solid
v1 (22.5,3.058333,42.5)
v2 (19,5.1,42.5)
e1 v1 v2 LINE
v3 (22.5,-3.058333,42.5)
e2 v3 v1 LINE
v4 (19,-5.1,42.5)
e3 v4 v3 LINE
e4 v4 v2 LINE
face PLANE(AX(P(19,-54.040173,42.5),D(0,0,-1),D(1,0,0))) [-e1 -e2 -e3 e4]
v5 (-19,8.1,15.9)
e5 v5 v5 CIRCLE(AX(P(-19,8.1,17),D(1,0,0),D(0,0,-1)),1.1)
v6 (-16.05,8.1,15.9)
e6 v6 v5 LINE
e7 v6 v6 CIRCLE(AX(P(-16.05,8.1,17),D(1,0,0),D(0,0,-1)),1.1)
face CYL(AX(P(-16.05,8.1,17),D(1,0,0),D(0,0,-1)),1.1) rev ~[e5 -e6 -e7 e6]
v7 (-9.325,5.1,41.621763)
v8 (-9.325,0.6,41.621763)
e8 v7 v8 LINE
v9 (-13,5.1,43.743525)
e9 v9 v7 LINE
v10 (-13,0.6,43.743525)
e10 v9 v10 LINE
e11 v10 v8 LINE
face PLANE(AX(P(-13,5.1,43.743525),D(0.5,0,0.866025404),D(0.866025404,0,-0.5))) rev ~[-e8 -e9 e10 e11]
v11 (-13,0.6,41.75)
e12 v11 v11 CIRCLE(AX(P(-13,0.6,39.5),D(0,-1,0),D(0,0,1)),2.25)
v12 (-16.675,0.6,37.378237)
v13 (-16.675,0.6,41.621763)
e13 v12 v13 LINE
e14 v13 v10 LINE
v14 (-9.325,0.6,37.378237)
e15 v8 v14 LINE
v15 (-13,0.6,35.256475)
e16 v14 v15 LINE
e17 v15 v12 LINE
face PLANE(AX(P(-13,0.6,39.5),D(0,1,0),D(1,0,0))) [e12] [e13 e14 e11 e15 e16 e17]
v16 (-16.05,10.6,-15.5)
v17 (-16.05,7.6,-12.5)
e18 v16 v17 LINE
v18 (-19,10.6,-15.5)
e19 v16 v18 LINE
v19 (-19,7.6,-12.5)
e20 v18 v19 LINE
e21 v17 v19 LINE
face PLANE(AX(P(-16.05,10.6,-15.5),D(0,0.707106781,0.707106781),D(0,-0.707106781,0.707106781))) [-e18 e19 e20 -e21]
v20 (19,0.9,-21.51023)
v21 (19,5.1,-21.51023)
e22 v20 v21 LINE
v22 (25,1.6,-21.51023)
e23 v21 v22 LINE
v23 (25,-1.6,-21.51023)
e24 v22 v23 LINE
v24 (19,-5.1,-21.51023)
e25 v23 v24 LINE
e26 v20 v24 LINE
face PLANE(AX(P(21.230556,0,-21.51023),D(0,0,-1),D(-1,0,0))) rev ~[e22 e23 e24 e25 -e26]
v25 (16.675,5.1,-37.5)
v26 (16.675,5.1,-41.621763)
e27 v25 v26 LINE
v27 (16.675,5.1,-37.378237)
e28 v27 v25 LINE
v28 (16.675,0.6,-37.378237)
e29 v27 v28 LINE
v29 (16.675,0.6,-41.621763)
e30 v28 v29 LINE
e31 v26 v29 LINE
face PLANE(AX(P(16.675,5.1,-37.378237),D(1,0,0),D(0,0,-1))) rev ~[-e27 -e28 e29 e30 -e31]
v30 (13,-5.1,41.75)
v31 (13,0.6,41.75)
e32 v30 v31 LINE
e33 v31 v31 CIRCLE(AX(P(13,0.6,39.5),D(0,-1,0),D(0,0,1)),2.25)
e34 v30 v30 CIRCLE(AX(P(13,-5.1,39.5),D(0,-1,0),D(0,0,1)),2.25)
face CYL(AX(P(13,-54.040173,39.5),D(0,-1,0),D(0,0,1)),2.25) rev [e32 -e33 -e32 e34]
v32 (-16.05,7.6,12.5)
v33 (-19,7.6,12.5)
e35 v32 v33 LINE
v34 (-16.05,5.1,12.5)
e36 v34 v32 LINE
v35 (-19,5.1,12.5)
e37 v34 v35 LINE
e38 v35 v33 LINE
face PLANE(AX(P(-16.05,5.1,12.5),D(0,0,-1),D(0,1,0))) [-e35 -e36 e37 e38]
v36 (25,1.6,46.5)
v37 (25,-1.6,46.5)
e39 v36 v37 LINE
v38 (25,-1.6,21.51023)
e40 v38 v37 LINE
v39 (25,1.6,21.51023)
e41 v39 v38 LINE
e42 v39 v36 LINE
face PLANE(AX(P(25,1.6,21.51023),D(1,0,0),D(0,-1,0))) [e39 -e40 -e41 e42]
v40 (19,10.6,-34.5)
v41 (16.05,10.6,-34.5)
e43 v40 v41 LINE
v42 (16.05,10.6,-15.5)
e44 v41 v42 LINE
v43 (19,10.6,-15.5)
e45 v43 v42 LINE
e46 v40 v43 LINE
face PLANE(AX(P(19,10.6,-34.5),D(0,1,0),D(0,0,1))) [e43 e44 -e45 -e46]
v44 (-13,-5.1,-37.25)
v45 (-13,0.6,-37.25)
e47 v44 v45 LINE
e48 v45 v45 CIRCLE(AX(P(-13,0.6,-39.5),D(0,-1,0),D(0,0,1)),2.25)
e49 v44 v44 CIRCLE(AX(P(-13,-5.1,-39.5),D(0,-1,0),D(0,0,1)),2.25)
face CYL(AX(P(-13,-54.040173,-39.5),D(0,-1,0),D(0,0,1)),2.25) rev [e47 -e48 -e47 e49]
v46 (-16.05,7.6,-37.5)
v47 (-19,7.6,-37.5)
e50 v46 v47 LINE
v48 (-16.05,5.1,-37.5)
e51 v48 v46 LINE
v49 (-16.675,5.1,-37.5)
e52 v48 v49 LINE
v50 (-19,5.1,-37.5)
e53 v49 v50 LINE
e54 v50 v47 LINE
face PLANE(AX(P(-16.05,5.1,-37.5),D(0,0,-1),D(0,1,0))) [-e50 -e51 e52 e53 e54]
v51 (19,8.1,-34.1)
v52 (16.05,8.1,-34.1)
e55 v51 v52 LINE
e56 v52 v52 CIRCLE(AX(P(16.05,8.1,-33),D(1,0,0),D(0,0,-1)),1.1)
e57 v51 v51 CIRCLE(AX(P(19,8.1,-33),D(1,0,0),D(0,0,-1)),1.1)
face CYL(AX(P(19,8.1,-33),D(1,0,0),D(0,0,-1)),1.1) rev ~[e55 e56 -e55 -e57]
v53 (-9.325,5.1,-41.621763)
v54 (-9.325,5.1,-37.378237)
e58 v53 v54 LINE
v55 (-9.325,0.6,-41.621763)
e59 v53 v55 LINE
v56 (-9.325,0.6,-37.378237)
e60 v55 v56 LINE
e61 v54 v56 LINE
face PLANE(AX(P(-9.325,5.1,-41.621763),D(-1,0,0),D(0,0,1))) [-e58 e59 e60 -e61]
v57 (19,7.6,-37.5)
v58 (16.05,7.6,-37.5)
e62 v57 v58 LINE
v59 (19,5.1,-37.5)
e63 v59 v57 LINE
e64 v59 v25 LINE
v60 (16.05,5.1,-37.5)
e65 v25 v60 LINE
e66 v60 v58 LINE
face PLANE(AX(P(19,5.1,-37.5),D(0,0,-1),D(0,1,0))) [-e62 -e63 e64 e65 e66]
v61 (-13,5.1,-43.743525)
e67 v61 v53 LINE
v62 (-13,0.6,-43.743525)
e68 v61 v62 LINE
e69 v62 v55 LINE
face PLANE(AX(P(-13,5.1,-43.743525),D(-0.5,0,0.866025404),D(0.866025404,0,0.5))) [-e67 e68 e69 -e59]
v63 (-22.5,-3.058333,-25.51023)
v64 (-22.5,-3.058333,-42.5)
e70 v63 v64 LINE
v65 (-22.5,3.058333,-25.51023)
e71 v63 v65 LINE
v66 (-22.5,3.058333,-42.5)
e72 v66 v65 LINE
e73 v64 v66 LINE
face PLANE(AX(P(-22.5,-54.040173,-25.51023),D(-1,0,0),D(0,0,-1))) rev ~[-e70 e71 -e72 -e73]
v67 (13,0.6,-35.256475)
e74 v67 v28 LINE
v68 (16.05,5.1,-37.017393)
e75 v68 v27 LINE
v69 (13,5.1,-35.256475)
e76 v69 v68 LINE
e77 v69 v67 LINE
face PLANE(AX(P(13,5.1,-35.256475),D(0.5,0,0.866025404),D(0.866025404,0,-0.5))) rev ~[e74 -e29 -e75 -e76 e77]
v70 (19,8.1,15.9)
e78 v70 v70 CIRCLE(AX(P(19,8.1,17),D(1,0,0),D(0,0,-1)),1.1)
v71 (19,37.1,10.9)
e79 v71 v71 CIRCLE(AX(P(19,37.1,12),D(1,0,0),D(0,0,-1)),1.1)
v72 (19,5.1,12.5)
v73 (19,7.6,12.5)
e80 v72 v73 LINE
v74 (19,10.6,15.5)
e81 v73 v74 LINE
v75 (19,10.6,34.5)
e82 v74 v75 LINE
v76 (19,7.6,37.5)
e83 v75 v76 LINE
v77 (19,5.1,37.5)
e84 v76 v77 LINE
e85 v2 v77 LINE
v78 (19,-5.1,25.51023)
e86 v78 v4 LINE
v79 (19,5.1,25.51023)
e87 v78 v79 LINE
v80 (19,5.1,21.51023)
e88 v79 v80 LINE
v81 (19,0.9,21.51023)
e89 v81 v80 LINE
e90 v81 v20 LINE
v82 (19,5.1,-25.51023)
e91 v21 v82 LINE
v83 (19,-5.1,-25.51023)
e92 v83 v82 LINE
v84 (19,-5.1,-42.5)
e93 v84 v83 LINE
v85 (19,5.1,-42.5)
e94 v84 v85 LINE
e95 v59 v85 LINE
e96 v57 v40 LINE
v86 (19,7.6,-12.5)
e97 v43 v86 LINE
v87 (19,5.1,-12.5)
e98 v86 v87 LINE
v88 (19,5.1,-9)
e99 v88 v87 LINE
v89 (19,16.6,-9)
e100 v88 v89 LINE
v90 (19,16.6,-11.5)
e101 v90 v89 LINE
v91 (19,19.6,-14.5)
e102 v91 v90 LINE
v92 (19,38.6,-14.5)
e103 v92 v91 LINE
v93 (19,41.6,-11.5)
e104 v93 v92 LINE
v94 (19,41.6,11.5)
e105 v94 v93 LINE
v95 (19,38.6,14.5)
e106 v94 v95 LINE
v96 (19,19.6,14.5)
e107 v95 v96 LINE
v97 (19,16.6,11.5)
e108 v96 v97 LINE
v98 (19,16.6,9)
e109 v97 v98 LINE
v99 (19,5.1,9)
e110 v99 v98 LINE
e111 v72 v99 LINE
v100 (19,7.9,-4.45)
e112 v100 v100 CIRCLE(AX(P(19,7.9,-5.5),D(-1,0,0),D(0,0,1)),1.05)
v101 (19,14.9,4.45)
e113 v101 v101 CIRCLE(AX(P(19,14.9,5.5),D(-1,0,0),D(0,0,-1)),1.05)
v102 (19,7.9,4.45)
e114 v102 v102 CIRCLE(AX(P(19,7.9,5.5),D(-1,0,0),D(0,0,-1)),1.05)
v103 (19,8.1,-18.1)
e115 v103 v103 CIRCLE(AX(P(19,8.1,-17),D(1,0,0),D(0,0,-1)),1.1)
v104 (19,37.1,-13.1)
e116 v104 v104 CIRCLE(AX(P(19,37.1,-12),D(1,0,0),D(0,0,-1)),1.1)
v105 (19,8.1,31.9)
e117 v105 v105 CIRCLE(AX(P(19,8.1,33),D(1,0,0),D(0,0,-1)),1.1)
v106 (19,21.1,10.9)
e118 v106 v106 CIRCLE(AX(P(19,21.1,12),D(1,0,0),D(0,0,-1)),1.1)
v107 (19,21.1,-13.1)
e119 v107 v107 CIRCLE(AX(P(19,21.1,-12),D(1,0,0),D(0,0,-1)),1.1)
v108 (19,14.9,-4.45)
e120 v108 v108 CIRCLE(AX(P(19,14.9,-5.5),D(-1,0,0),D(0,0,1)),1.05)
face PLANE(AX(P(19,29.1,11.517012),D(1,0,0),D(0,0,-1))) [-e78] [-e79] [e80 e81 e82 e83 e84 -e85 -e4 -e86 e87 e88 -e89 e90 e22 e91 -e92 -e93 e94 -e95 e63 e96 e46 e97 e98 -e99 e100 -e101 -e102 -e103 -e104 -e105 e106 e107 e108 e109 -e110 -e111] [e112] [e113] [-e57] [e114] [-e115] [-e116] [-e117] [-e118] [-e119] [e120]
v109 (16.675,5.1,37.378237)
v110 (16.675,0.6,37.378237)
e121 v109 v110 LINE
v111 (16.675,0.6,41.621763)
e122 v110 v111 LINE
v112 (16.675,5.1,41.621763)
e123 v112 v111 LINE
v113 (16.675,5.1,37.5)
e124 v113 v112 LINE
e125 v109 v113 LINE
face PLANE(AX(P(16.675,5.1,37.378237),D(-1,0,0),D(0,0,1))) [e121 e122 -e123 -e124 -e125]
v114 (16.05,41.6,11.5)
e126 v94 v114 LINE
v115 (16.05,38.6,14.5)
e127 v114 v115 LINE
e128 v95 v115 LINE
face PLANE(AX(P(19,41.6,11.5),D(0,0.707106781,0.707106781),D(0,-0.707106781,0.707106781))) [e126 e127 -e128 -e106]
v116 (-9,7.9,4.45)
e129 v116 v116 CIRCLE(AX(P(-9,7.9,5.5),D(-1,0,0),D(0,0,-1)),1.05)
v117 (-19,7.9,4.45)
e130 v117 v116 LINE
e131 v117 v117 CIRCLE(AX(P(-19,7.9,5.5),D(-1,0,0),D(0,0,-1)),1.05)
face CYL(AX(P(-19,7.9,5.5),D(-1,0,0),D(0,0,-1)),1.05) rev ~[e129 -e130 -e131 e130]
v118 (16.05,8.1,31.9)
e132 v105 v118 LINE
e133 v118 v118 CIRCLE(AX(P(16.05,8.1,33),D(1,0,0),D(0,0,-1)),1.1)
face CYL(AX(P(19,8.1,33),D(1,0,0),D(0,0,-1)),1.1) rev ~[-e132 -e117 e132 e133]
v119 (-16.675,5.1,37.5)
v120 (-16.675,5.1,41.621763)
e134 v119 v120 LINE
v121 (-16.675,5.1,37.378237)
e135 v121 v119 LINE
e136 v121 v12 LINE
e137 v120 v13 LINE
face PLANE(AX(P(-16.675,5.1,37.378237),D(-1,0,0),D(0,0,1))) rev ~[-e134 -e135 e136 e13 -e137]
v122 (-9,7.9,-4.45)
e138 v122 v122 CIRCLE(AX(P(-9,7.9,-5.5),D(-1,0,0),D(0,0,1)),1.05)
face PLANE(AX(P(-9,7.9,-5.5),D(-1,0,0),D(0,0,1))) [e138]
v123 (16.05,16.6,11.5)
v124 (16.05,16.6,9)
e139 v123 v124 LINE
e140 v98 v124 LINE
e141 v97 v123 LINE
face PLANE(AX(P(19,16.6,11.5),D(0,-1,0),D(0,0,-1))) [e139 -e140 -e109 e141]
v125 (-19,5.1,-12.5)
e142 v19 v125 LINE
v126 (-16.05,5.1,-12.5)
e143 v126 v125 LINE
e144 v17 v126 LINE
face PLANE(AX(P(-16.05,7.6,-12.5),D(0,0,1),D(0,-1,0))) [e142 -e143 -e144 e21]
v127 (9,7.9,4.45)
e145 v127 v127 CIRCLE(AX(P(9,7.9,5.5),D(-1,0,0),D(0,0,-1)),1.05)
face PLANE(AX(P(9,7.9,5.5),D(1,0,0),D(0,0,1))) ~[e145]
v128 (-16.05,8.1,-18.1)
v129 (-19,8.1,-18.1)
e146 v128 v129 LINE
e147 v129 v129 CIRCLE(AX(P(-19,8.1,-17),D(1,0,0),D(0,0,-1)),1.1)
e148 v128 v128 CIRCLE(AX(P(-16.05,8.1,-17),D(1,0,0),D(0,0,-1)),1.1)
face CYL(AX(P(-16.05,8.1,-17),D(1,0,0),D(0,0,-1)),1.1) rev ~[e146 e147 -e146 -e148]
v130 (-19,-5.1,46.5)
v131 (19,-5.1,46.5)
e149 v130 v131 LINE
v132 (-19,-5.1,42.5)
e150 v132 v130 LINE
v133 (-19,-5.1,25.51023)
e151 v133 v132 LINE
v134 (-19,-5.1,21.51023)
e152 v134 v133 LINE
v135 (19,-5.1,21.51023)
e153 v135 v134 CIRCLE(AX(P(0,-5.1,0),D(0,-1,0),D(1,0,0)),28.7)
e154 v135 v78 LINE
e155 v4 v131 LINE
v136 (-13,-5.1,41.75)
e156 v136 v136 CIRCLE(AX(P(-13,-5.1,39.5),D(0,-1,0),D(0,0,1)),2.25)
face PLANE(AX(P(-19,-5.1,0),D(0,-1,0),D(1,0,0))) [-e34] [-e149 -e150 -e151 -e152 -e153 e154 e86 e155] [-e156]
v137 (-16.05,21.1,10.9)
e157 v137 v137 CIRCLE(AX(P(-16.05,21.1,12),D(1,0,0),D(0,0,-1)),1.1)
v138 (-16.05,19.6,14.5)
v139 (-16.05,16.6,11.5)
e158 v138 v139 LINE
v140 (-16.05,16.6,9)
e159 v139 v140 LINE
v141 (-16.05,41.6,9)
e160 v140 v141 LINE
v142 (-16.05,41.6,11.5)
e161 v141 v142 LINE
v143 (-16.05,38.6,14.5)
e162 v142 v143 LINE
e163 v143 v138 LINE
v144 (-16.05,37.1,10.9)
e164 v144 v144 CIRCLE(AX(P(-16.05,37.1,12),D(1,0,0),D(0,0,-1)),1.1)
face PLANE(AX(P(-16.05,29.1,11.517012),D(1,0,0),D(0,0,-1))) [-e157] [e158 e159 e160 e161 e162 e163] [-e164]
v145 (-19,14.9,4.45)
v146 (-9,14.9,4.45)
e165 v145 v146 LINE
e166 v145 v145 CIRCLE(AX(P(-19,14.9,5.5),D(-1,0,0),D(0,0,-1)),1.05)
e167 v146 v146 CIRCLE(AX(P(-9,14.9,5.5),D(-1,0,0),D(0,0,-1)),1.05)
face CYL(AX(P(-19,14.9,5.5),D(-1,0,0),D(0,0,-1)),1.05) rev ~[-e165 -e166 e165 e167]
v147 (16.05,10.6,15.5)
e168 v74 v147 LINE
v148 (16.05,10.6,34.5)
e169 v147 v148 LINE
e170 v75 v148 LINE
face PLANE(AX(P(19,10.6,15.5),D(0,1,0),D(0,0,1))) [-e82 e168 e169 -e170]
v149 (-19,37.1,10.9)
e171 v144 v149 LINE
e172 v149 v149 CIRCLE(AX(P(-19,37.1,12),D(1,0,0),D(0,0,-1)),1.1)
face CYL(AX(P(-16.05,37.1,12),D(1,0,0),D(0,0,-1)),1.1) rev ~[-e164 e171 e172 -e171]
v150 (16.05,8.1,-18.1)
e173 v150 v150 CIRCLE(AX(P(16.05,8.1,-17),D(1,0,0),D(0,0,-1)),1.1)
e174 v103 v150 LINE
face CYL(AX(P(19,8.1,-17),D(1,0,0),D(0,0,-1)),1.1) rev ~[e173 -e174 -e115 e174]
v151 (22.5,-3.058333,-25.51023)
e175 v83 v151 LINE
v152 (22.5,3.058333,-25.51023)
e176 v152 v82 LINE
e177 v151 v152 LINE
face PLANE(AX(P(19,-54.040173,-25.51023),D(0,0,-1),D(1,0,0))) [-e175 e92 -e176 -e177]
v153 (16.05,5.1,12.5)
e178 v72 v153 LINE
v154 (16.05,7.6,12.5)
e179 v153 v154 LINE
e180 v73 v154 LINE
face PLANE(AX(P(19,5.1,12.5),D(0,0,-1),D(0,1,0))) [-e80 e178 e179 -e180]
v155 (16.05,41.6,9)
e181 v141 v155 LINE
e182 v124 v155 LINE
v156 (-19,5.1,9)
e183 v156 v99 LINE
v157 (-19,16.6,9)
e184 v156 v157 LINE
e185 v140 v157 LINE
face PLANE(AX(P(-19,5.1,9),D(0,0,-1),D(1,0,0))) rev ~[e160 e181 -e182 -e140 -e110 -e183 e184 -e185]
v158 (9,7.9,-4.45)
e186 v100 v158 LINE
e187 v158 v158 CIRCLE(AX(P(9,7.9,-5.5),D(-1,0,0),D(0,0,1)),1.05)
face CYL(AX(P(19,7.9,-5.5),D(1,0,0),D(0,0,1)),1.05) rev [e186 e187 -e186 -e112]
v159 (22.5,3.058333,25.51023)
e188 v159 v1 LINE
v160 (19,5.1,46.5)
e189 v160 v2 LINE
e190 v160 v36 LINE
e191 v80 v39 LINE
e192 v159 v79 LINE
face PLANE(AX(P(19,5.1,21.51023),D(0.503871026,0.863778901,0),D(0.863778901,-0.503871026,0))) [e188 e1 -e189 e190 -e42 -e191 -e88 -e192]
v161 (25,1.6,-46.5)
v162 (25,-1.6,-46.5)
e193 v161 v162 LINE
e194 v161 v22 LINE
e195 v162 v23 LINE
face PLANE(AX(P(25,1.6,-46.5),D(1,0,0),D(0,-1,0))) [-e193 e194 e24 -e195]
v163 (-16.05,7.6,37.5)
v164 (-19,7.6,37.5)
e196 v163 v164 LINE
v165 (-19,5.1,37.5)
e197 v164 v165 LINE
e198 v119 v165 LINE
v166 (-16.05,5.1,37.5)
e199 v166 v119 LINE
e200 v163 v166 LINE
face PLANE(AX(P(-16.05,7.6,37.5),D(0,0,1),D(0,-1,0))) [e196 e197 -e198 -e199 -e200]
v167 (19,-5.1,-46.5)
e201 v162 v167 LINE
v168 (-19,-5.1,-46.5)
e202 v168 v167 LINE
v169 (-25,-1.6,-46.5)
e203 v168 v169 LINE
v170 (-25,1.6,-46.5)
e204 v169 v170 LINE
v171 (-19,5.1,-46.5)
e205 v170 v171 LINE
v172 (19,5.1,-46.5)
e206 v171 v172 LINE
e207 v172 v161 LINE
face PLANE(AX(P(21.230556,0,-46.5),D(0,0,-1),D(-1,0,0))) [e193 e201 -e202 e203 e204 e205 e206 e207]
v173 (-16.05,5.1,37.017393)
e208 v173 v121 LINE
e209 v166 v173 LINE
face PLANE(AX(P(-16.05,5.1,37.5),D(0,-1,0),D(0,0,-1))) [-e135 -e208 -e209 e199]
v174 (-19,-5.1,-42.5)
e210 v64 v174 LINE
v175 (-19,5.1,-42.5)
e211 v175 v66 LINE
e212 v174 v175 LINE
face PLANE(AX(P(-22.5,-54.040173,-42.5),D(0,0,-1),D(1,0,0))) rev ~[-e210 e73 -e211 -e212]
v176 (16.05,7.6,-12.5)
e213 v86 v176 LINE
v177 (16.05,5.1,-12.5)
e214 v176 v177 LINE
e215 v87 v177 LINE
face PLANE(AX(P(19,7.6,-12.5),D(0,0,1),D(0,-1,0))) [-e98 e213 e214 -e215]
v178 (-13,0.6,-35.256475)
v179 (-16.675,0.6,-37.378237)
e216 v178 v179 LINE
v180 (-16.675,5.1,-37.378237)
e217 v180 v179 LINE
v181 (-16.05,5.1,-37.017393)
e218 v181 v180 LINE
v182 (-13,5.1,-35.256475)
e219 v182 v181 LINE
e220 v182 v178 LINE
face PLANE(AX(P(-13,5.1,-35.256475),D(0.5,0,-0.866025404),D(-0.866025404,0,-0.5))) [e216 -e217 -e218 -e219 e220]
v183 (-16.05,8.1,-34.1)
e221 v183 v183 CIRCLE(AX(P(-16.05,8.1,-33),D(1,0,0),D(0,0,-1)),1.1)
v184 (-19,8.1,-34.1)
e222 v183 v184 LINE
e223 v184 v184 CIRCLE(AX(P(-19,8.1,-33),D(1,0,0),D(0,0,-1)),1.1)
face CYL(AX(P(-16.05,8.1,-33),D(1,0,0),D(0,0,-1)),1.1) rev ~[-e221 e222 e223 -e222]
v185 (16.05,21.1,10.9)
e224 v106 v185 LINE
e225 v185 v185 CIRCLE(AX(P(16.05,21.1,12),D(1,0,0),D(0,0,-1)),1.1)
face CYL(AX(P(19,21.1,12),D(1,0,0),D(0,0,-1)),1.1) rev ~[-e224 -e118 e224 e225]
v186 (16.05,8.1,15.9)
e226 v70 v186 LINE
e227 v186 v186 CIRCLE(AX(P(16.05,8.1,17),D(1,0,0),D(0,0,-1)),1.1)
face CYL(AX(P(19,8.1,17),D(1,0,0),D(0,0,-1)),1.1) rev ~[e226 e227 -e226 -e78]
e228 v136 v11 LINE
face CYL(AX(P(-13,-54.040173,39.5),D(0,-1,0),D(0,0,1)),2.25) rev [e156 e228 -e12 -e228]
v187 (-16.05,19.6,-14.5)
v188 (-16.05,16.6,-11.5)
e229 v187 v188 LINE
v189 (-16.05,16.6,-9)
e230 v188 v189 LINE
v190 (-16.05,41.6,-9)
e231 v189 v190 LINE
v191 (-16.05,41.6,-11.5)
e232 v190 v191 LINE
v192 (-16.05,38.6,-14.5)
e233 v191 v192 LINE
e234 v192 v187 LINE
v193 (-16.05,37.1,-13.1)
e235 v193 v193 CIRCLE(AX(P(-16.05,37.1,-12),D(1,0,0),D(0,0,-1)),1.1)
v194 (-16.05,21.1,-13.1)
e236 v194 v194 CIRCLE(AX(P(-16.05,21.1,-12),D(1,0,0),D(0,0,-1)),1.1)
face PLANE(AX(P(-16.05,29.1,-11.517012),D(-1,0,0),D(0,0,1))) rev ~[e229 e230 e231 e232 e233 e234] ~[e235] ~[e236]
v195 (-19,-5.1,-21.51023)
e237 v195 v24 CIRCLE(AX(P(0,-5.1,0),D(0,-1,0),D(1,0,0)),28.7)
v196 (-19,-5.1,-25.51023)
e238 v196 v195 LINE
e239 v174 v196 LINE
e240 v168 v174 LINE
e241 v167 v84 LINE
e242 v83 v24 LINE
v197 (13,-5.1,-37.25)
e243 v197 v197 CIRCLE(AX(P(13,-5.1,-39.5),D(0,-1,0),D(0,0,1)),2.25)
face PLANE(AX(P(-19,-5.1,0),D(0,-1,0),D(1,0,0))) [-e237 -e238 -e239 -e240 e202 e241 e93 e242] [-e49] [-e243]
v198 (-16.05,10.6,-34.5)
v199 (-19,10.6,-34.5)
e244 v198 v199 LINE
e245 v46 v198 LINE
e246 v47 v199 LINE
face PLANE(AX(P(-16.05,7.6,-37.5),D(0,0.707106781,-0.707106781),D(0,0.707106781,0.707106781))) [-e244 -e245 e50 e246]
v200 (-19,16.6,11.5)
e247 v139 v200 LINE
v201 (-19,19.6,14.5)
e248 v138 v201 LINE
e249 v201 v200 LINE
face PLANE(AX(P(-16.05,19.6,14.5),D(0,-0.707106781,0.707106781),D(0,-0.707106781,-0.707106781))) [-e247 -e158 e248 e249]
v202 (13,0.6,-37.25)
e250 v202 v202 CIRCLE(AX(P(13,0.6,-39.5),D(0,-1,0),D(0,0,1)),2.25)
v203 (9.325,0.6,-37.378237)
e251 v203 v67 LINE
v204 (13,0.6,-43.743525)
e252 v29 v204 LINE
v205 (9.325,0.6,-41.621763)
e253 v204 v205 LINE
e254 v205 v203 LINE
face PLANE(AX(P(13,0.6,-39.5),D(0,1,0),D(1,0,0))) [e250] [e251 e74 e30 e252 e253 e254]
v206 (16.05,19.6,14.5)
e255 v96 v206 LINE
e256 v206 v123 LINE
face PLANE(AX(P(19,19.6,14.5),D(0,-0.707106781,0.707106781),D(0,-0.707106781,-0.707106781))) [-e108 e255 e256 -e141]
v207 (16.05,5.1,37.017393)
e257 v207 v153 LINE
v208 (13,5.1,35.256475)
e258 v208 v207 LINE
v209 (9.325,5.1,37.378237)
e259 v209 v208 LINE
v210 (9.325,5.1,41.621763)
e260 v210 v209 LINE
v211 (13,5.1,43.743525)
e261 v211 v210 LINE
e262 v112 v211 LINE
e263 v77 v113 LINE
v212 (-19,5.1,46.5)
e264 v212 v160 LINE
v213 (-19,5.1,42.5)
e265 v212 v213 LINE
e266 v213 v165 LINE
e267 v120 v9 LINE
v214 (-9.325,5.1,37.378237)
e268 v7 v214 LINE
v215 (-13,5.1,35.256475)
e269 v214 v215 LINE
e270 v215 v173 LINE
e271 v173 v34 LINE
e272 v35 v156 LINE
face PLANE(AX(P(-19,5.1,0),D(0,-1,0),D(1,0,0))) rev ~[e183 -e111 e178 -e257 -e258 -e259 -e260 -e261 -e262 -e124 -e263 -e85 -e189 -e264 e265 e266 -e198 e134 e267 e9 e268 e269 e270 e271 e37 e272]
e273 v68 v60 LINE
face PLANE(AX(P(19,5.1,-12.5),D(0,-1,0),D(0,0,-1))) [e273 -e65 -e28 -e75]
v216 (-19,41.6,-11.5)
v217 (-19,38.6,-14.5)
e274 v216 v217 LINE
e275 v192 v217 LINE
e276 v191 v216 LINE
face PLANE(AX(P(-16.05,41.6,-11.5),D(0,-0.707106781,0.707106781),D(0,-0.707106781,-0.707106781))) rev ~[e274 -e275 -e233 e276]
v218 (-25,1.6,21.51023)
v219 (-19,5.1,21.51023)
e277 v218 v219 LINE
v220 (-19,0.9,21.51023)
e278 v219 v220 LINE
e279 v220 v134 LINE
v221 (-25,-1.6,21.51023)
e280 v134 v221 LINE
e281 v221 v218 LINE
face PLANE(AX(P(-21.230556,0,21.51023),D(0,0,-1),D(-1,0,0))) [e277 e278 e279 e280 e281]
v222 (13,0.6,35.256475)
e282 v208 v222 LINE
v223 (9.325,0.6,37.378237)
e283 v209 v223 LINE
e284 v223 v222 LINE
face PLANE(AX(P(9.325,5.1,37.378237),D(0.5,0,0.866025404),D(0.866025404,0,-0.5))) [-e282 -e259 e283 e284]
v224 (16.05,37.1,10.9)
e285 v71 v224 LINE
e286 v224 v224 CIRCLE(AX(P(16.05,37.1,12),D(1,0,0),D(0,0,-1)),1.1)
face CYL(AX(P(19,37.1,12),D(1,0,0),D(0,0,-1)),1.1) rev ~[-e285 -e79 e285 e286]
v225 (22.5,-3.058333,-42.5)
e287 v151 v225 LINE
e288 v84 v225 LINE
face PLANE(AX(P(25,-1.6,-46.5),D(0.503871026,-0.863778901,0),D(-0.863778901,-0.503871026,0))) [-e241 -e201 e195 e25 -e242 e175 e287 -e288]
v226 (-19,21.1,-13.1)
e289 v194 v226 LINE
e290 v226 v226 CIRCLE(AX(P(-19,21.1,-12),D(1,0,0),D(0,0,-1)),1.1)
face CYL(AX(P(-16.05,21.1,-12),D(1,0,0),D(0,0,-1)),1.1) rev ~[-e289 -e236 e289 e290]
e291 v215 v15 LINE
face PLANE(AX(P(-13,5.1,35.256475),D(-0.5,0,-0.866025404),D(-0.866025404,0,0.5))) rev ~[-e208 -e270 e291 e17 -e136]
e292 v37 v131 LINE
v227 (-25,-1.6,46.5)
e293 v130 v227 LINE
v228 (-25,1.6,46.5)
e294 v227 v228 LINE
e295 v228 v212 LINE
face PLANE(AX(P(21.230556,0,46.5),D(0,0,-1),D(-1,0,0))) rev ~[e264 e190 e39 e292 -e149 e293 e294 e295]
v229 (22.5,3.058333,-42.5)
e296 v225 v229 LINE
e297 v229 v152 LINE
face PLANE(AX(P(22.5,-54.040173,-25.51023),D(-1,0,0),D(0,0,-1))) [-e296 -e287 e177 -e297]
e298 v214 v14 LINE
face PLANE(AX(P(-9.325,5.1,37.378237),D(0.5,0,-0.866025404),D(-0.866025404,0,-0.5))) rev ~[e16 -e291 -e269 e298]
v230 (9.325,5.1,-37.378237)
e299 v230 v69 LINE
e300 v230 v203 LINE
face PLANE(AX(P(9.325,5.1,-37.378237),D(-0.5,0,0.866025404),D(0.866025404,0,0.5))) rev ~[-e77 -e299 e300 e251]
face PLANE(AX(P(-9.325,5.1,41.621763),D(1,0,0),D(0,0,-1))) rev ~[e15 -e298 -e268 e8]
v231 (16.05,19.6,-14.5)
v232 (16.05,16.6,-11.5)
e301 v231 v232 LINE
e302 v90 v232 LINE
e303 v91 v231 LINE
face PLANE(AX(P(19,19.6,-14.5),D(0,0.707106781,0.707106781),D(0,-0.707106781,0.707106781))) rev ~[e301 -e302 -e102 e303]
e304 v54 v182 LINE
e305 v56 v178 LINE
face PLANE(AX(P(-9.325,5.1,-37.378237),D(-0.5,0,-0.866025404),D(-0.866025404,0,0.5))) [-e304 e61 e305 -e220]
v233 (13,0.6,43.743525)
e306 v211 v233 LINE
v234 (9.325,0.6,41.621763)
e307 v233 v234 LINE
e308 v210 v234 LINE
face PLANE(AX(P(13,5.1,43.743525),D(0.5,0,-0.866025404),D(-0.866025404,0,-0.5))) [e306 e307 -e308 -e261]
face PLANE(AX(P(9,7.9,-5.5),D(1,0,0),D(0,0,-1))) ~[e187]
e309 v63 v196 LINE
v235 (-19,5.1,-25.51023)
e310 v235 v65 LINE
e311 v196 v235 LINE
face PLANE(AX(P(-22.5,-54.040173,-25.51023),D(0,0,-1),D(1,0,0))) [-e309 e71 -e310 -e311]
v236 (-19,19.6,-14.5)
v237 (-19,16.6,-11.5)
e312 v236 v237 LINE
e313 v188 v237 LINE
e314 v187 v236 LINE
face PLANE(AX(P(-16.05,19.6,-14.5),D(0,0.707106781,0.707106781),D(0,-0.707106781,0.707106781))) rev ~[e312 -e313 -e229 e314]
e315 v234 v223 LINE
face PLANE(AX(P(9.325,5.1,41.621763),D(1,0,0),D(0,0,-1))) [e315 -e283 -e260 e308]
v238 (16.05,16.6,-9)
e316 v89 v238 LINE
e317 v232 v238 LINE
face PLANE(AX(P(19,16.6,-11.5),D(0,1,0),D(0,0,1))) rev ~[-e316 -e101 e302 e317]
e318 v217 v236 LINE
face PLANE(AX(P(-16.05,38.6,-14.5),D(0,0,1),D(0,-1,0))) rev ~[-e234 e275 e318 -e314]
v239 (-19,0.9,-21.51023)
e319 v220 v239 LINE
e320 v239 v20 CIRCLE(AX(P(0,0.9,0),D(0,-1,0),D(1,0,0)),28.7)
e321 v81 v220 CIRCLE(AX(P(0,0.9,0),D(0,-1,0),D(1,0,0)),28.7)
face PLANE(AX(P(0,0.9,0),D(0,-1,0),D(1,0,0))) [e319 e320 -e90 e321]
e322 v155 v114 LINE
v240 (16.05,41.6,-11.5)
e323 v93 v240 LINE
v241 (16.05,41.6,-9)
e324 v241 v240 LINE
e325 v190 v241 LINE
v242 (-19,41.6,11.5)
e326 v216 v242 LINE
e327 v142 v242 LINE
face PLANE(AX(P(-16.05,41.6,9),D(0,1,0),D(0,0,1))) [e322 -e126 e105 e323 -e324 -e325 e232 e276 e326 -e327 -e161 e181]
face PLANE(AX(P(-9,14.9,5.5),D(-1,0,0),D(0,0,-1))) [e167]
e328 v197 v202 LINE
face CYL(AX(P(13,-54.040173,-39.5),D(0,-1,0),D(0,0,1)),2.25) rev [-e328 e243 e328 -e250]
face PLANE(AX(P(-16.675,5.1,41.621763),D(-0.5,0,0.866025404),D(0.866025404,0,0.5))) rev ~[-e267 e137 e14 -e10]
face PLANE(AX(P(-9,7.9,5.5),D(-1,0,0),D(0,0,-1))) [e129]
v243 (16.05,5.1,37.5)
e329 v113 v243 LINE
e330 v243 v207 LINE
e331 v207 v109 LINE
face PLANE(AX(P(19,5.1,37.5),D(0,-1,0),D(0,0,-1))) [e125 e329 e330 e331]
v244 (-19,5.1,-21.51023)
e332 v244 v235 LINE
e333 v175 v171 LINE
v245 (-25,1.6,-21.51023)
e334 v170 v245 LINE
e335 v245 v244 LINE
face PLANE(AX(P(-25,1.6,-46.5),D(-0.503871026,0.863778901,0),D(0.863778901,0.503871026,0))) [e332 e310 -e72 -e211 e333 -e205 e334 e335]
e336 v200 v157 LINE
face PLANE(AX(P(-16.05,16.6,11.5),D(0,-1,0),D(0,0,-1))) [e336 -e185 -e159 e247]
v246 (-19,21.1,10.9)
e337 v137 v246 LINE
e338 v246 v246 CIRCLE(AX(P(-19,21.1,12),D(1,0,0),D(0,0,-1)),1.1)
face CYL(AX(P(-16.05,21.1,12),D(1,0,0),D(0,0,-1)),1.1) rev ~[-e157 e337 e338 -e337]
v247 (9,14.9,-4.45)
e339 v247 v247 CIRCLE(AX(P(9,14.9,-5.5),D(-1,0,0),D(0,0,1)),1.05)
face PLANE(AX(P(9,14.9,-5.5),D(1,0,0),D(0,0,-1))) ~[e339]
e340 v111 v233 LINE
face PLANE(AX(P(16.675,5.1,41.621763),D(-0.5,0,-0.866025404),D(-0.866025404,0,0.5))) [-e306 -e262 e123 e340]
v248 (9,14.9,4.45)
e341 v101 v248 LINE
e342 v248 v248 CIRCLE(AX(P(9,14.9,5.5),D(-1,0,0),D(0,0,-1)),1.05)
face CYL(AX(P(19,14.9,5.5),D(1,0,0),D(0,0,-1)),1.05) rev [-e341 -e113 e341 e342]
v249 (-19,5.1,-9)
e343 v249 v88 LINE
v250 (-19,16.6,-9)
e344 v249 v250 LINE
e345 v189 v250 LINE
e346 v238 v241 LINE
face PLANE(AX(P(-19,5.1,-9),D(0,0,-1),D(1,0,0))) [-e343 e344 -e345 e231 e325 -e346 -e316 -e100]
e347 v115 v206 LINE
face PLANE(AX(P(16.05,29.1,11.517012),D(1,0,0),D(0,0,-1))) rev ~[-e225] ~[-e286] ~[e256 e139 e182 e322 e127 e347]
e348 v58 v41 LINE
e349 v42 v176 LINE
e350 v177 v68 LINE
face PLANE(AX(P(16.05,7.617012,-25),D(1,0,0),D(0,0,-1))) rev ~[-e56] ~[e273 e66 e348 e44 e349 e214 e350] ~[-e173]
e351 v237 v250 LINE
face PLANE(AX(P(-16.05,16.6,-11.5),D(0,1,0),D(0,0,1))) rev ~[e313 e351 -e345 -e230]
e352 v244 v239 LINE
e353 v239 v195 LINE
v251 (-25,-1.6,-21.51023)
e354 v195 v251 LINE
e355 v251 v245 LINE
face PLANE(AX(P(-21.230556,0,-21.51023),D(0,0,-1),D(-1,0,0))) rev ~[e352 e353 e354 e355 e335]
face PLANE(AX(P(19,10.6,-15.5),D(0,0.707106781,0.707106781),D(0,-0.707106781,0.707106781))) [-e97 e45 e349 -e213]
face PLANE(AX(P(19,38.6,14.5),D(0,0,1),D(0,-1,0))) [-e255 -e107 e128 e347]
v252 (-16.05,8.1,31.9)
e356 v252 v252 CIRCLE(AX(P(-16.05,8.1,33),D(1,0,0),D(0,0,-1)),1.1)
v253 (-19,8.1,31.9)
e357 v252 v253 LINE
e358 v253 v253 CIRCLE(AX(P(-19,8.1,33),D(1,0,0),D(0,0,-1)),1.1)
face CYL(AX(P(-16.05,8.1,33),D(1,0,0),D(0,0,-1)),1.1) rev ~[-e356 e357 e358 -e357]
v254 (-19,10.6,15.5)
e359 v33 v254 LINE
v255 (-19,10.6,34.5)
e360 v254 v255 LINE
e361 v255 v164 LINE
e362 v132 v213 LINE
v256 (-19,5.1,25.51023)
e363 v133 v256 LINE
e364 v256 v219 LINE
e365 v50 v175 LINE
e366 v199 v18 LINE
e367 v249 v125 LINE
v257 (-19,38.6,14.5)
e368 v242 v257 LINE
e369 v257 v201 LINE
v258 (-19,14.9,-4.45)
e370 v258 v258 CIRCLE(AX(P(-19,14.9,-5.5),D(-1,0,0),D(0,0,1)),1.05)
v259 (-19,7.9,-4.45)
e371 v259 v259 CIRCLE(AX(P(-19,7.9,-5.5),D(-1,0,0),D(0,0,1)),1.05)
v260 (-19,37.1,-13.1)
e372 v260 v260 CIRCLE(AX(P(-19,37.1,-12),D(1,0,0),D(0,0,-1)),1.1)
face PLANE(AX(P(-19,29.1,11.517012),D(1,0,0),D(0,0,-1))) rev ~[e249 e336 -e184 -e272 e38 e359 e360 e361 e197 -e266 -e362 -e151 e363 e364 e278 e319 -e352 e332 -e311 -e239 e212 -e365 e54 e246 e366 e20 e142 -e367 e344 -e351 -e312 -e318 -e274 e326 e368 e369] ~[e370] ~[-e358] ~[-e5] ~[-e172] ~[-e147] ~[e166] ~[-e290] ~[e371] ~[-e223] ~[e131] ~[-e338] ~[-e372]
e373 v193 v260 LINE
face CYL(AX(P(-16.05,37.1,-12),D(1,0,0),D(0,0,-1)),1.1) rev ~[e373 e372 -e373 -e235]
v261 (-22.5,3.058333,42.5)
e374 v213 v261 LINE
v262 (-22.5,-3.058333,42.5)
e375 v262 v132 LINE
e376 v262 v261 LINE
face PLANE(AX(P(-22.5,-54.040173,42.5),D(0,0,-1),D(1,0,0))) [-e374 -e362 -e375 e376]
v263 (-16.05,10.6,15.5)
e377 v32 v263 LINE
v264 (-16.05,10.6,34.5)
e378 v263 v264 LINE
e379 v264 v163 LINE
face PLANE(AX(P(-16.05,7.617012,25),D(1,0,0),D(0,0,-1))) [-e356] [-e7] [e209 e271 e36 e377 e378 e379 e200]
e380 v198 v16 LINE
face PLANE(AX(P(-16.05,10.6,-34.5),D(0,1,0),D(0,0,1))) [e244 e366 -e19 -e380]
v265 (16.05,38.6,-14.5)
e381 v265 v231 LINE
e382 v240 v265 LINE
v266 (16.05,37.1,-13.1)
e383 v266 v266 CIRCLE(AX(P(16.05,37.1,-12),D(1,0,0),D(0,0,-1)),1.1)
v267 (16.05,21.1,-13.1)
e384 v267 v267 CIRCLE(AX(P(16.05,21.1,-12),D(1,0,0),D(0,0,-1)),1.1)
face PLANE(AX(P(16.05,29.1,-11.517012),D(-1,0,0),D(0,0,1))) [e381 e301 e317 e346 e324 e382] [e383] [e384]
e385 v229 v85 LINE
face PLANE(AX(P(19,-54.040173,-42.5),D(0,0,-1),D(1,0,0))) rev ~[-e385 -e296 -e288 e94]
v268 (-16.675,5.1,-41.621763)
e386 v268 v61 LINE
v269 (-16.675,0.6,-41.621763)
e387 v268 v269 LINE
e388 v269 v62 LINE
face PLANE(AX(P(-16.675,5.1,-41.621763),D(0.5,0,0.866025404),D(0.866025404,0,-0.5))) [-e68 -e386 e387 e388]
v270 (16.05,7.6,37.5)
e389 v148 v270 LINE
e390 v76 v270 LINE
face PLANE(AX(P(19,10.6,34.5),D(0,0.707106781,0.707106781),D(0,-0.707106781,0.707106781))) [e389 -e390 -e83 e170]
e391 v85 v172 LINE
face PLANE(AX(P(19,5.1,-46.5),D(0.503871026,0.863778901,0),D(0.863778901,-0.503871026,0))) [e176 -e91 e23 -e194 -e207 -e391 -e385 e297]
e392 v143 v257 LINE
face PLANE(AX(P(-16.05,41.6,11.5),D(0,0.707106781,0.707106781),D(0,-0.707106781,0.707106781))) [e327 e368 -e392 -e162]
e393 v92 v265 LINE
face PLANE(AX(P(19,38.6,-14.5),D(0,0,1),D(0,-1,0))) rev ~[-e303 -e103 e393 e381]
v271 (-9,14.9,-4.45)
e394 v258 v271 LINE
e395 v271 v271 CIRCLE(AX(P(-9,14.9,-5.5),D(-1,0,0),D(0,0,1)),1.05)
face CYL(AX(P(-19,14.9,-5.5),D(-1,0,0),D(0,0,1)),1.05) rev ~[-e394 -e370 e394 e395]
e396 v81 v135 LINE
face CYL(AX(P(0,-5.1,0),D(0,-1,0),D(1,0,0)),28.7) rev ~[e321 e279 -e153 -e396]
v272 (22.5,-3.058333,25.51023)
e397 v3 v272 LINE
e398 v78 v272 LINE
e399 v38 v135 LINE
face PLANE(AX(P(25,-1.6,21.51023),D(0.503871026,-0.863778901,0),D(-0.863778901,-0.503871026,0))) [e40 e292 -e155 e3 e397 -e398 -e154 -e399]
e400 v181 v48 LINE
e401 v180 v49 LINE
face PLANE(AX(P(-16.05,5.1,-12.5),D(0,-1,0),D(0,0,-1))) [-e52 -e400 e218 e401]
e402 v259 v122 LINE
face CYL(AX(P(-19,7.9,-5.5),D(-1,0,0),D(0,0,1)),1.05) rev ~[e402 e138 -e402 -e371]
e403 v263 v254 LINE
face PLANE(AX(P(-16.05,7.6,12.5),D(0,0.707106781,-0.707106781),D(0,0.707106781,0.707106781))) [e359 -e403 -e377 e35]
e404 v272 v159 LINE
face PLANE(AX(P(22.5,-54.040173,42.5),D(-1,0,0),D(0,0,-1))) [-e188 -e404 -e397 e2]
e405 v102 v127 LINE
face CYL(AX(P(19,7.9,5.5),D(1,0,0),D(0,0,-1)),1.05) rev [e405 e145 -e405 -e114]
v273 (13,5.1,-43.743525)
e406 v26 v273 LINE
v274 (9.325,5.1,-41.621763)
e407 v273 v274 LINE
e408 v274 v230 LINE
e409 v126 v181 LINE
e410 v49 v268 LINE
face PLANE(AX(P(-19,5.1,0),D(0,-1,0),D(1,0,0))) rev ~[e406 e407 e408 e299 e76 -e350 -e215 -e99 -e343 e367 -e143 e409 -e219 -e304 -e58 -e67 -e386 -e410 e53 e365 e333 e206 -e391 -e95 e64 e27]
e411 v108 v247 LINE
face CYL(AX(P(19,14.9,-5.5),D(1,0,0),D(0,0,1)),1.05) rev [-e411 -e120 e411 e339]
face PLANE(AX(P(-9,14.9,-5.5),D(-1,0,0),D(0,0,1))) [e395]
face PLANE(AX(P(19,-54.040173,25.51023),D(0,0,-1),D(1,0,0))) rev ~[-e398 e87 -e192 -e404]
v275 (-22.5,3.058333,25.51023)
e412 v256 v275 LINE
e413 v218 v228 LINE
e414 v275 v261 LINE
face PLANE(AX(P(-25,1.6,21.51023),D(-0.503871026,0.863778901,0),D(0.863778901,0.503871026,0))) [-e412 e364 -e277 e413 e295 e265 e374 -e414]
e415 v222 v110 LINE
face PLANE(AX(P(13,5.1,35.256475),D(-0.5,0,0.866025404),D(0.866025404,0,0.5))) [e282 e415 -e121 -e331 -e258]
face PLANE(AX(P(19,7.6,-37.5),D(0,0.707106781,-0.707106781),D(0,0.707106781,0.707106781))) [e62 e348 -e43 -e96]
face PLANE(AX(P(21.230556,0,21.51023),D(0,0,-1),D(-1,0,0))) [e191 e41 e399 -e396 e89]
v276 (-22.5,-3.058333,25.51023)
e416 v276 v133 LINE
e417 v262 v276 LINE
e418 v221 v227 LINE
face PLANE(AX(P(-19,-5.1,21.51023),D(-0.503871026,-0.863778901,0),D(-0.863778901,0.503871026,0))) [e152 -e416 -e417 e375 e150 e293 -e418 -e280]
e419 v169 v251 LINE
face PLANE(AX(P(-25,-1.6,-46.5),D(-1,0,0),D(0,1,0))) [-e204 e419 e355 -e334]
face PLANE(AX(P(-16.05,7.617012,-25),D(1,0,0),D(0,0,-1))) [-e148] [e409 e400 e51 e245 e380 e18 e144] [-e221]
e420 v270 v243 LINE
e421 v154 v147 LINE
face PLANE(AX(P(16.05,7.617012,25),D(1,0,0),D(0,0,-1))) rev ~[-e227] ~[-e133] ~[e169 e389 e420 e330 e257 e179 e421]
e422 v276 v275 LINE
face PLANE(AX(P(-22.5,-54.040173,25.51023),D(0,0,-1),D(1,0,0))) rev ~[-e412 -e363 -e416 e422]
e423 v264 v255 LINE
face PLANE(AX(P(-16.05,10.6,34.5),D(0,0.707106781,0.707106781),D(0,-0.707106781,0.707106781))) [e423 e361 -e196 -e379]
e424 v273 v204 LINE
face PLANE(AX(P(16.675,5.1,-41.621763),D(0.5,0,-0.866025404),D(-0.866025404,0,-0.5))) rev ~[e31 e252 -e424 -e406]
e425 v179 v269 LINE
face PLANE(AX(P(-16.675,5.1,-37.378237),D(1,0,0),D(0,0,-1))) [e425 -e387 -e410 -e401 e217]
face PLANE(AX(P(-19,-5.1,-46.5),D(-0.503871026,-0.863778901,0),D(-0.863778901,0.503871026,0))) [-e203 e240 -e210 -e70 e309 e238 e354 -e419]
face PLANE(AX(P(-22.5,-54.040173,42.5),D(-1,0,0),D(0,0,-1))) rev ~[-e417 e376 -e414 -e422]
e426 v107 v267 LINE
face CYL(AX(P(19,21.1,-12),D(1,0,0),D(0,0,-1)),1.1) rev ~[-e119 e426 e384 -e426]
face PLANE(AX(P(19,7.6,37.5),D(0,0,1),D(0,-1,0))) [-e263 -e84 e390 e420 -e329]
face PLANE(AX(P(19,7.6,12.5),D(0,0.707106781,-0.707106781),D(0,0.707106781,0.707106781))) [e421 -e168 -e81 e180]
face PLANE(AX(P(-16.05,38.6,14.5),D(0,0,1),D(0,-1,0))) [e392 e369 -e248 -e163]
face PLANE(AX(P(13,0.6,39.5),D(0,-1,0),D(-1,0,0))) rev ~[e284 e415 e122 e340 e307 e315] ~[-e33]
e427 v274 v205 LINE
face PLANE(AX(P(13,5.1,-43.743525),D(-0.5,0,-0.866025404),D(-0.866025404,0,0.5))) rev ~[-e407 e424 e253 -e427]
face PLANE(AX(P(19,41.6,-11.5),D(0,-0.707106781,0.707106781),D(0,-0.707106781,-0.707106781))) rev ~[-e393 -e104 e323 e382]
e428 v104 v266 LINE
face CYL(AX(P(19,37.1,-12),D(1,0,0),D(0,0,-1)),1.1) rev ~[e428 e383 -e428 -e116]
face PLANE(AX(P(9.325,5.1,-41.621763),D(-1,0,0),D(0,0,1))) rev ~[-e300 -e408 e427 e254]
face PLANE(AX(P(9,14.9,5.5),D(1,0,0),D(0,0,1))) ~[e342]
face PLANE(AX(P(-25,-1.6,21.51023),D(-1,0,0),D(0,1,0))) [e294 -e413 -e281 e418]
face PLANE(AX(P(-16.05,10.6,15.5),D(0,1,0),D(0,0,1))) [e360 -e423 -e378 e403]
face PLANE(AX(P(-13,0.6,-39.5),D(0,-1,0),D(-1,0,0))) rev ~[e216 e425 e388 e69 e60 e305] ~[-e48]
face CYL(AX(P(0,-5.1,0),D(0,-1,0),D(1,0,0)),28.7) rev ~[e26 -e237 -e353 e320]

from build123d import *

# Parameters (mm, degrees)
SKETCH1_W                       = 38
SKETCH1_H                       = 10.2
MAIN_BASE_DEPTH                 = 46.5
SKETCH2_R                       = 28.7
FREE_SPACE_DEPTH                = 6
BRACKETS1_START                 = 21.51023
BRACKETS1_DEPTH                 = 24.98977
BRACKETS2_START                 = -46.5
BRACKETS2_DEPTH                 = 24.98977
BRACKET_HOLES_DEPTH             = 54.040173454
BRACKET_HOLES_DEPTH_BACK        = 54.040173454
SKETCH5_W                       = 3.5
SKETCH5_H                       = 16.989769876
BOLT_HOLES_DEPTH                = 54.040173454
BOLT_HOLES_DEPTH_BACK           = 54.040173454
SKETCH6_R                       = 2.25
NUT_START                       = 5.1
NUT_SLOTS_DEPTH                 = 4.5
SKETCH8_W                       = 38
SKETCH8_H                       = 18
MOTOR_BASE_DEPTH                = 36.5
MOTOR_START                     = 19
SKETCH9_R                       = 1.1
MOTOR_BRACKETS1_DEPTH           = 2.95
MOTOR_START_2                   = -16.05
SKETCH9_2_R                     = 1.1
MOTOR_BRACKETS2_DEPTH           = 2.95
SKETCH10_R                      = 1.05
MOTOR_DRIVER_MOUNT_HOLES1_DEPTH = 10


with BuildPart() as part:
    # Sketch1 → Main_base (new, symmetric)
    with BuildSketch(Plane.XY):
        Rectangle(SKETCH1_W, SKETCH1_H)
    extrude(amount=MAIN_BASE_DEPTH, both=True)

    # Sketch2 → Free space (cut)
    with BuildSketch(Plane.XZ.offset(5.1)):
        Circle(SKETCH2_R)
    extrude(amount=-FREE_SPACE_DEPTH, mode=Mode.SUBTRACT)

    # Sketch3 → Brackets1 (add)
    with BuildSketch(Plane.XY.offset(BRACKETS1_START)):
        Polygon((25, 1.6), (25, -1.6), (19, -5.1), (19, 5.1), align=None)
        Polygon((-25, 1.6), (-19, 5.1), (-19, -5.1), (-25, -1.6), align=None)
    extrude(amount=BRACKETS1_DEPTH)

    # Sketch3<2> → Brackets2 (add)
    with BuildSketch(Plane.XY.offset(BRACKETS2_START)):
        Polygon((25, 1.6), (25, -1.6), (19, -5.1), (19, 5.1), align=None)
        Polygon((-25, 1.6), (-19, 5.1), (-19, -5.1), (-25, -1.6), align=None)
    extrude(amount=BRACKETS2_DEPTH)

    # Sketch5 → Bracket holes (cut, two sides: drawn at the far end of the back side and taken through both)
    with BuildSketch(Plane(origin=(0, 0, 0), x_dir=(1, 0, 0), z_dir=(0, 1, 0)).offset(-BRACKET_HOLES_DEPTH_BACK)):
        with Locations((20.75, -34.005115062)):
            Rectangle(SKETCH5_W, SKETCH5_H)
        with Locations((-20.75, -34.005115062)):
            Rectangle(SKETCH5_W, SKETCH5_H)
        with Locations((-20.75, 34.005115062)):
            Rectangle(SKETCH5_W, SKETCH5_H)
        with Locations((20.75, 34.005115062)):
            Rectangle(SKETCH5_W, SKETCH5_H)
    extrude(amount=BRACKET_HOLES_DEPTH + BRACKET_HOLES_DEPTH_BACK, mode=Mode.SUBTRACT)

    # Sketch6 → Bolt holes (cut, two sides: drawn at the far end of the back side and taken through both)
    with BuildSketch(Plane(origin=(0, 0, 0), x_dir=(1, 0, 0), z_dir=(0, 1, 0)).offset(-BOLT_HOLES_DEPTH_BACK)):
        with Locations(Location((-13, 39.5, 0), (0, 0, 270))):
            Circle(SKETCH6_R)
        with Locations(Location((-13, -39.5, 0), (0, 0, 270))):
            Circle(SKETCH6_R)
        with Locations(Location((13, -39.5, 0), (0, 0, 270))):
            Circle(SKETCH6_R)
        with Locations(Location((13, 39.5, 0), (0, 0, 270))):
            Circle(SKETCH6_R)
    extrude(amount=BOLT_HOLES_DEPTH + BOLT_HOLES_DEPTH_BACK, mode=Mode.SUBTRACT)

    # Sketch7 → Nut slots (cut)
    with BuildSketch(Plane(origin=(0, 0, 0), x_dir=(1, 0, 0), z_dir=(0, 1, 0)).offset(NUT_START)):
        Polygon((13, 35.256475), (16.675000452, 37.3782375), (16.675000452, 41.6217625), (13, 43.743525), (9.324999548, 41.6217625), (9.324999548, 37.3782375), align=None)
        Polygon((-9.324999548, 37.3782375), (-13, 35.256475), (-16.675000452, 37.3782375), (-16.675000452, 41.6217625), (-13, 43.743525), (-9.324999548, 41.6217625), align=None)
        Polygon((-13, -35.256475), (-16.675000452, -37.3782375), (-16.675000452, -41.6217625), (-13, -43.743525), (-9.324999548, -41.6217625), (-9.324999548, -37.3782375), align=None)
        Polygon((9.324999548, -37.3782375), (13, -35.256475), (16.675000452, -37.3782375), (16.675000452, -41.6217625), (13, -43.743525), (9.324999548, -41.6217625), align=None)
    extrude(amount=-NUT_SLOTS_DEPTH, mode=Mode.SUBTRACT)

    # Sketch8 → Motor base (add)
    with BuildSketch(Plane(origin=(0, 5.1, 0), x_dir=(1, 0, 0), z_dir=(0, 1, 0))):
        Rectangle(SKETCH8_W, SKETCH8_H)
    extrude(amount=MOTOR_BASE_DEPTH)

    # Sketch9 → Motor brackets1 (add)
    # profile 1 of 4: a face of its own
    with BuildSketch(Plane(origin=(0, 0, 0), x_dir=(0, 0, -1), z_dir=(1, 0, 0)).offset(MOTOR_START)):
        Polygon((-9, 41.6), (-11.5, 41.6), (-14.5, 38.6), (-14.5, 19.6), (-11.5, 16.6), (-9, 16.6), align=None)
        with Locations((-12, 21.1)):
            Circle(SKETCH9_R, mode=Mode.SUBTRACT)
        with Locations((-12, 37.1)):
            Circle(SKETCH9_R, mode=Mode.SUBTRACT)
    # profile 2 of 4: a face of its own
    with BuildSketch(Plane(origin=(0, 0, 0), x_dir=(0, 0, -1), z_dir=(1, 0, 0)).offset(MOTOR_START)):
        Polygon((-37.5, 5.1), (-12.5, 5.1), (-12.5, 7.6), (-15.5, 10.6), (-34.5, 10.6), (-37.5, 7.6), align=None)
        with Locations((-33, 8.1)):
            Circle(SKETCH9_R, mode=Mode.SUBTRACT)
        with Locations((-17, 8.1)):
            Circle(SKETCH9_R, mode=Mode.SUBTRACT)
    # profile 3 of 4: a face of its own
    with BuildSketch(Plane(origin=(0, 0, 0), x_dir=(0, 0, -1), z_dir=(1, 0, 0)).offset(MOTOR_START)):
        Polygon((11.5, 41.6), (14.5, 38.6), (14.5, 19.6), (11.5, 16.6), (9, 16.6), (9, 41.6), align=None)
        with Locations((12, 37.1)):
            Circle(SKETCH9_R, mode=Mode.SUBTRACT)
        with Locations((12, 21.1)):
            Circle(SKETCH9_R, mode=Mode.SUBTRACT)
    # profile 4 of 4: a face of its own
    with BuildSketch(Plane(origin=(0, 0, 0), x_dir=(0, 0, -1), z_dir=(1, 0, 0)).offset(MOTOR_START)):
        Polygon((15.5, 10.6), (12.5, 7.6), (12.5, 5.1), (37.5, 5.1), (37.5, 7.6), (34.5, 10.6), align=None)
        with Locations((17, 8.1)):
            Circle(SKETCH9_R, mode=Mode.SUBTRACT)
        with Locations((33, 8.1)):
            Circle(SKETCH9_R, mode=Mode.SUBTRACT)
    extrude(amount=-MOTOR_BRACKETS1_DEPTH)

    # Sketch9<2> → Motor brackets2 (add)
    # profile 1 of 4: a face of its own
    with BuildSketch(Plane(origin=(0, 0, 0), x_dir=(0, 0, -1), z_dir=(1, 0, 0)).offset(MOTOR_START_2)):
        Polygon((-9, 41.6), (-11.5, 41.6), (-14.5, 38.6), (-14.5, 19.6), (-11.5, 16.6), (-9, 16.6), align=None)
        with Locations((-12, 21.1)):
            Circle(SKETCH9_2_R, mode=Mode.SUBTRACT)
        with Locations((-12, 37.1)):
            Circle(SKETCH9_2_R, mode=Mode.SUBTRACT)
    # profile 2 of 4: a face of its own
    with BuildSketch(Plane(origin=(0, 0, 0), x_dir=(0, 0, -1), z_dir=(1, 0, 0)).offset(MOTOR_START_2)):
        Polygon((-37.5, 5.1), (-12.5, 5.1), (-12.5, 7.6), (-15.5, 10.6), (-34.5, 10.6), (-37.5, 7.6), align=None)
        with Locations((-33, 8.1)):
            Circle(SKETCH9_2_R, mode=Mode.SUBTRACT)
        with Locations((-17, 8.1)):
            Circle(SKETCH9_2_R, mode=Mode.SUBTRACT)
    # profile 3 of 4: a face of its own
    with BuildSketch(Plane(origin=(0, 0, 0), x_dir=(0, 0, -1), z_dir=(1, 0, 0)).offset(MOTOR_START_2)):
        Polygon((11.5, 41.6), (14.5, 38.6), (14.5, 19.6), (11.5, 16.6), (9, 16.6), (9, 41.6), align=None)
        with Locations((12, 37.1)):
            Circle(SKETCH9_2_R, mode=Mode.SUBTRACT)
        with Locations((12, 21.1)):
            Circle(SKETCH9_2_R, mode=Mode.SUBTRACT)
    # profile 4 of 4: a face of its own
    with BuildSketch(Plane(origin=(0, 0, 0), x_dir=(0, 0, -1), z_dir=(1, 0, 0)).offset(MOTOR_START_2)):
        Polygon((15.5, 10.6), (12.5, 7.6), (12.5, 5.1), (37.5, 5.1), (37.5, 7.6), (34.5, 10.6), align=None)
        with Locations((17, 8.1)):
            Circle(SKETCH9_2_R, mode=Mode.SUBTRACT)
        with Locations((33, 8.1)):
            Circle(SKETCH9_2_R, mode=Mode.SUBTRACT)
    extrude(amount=-MOTOR_BRACKETS2_DEPTH)

    # Sketch10 → motor_driver_mount_holes1 (cut)
    with BuildSketch(Plane.ZY.offset(19)):
        with Locations((-5.5, 14.9)):
            Circle(SKETCH10_R)
        with Locations((-5.5, 7.9)):
            Circle(SKETCH10_R)
        with Locations(Location((5.5, 7.9, 0), (0, 0, 180))):
            Circle(SKETCH10_R)
        with Locations(Location((5.5, 14.9, 0), (0, 0, 180))):
            Circle(SKETCH10_R)
    motor_driver_mount_holes1 = extrude(amount=-MOTOR_DRIVER_MOUNT_HOLES1_DEPTH, mode=Mode.SUBTRACT)

    # motor_driver_mount_holes2: motor_driver_mount_holes1 across plane
    add(motor_driver_mount_holes1.mirror(Plane(origin=(0, 0, 0), x_dir=(0, 0, 1), z_dir=(1, 0, 0))), mode=Mode.SUBTRACT)


solid = part.part
